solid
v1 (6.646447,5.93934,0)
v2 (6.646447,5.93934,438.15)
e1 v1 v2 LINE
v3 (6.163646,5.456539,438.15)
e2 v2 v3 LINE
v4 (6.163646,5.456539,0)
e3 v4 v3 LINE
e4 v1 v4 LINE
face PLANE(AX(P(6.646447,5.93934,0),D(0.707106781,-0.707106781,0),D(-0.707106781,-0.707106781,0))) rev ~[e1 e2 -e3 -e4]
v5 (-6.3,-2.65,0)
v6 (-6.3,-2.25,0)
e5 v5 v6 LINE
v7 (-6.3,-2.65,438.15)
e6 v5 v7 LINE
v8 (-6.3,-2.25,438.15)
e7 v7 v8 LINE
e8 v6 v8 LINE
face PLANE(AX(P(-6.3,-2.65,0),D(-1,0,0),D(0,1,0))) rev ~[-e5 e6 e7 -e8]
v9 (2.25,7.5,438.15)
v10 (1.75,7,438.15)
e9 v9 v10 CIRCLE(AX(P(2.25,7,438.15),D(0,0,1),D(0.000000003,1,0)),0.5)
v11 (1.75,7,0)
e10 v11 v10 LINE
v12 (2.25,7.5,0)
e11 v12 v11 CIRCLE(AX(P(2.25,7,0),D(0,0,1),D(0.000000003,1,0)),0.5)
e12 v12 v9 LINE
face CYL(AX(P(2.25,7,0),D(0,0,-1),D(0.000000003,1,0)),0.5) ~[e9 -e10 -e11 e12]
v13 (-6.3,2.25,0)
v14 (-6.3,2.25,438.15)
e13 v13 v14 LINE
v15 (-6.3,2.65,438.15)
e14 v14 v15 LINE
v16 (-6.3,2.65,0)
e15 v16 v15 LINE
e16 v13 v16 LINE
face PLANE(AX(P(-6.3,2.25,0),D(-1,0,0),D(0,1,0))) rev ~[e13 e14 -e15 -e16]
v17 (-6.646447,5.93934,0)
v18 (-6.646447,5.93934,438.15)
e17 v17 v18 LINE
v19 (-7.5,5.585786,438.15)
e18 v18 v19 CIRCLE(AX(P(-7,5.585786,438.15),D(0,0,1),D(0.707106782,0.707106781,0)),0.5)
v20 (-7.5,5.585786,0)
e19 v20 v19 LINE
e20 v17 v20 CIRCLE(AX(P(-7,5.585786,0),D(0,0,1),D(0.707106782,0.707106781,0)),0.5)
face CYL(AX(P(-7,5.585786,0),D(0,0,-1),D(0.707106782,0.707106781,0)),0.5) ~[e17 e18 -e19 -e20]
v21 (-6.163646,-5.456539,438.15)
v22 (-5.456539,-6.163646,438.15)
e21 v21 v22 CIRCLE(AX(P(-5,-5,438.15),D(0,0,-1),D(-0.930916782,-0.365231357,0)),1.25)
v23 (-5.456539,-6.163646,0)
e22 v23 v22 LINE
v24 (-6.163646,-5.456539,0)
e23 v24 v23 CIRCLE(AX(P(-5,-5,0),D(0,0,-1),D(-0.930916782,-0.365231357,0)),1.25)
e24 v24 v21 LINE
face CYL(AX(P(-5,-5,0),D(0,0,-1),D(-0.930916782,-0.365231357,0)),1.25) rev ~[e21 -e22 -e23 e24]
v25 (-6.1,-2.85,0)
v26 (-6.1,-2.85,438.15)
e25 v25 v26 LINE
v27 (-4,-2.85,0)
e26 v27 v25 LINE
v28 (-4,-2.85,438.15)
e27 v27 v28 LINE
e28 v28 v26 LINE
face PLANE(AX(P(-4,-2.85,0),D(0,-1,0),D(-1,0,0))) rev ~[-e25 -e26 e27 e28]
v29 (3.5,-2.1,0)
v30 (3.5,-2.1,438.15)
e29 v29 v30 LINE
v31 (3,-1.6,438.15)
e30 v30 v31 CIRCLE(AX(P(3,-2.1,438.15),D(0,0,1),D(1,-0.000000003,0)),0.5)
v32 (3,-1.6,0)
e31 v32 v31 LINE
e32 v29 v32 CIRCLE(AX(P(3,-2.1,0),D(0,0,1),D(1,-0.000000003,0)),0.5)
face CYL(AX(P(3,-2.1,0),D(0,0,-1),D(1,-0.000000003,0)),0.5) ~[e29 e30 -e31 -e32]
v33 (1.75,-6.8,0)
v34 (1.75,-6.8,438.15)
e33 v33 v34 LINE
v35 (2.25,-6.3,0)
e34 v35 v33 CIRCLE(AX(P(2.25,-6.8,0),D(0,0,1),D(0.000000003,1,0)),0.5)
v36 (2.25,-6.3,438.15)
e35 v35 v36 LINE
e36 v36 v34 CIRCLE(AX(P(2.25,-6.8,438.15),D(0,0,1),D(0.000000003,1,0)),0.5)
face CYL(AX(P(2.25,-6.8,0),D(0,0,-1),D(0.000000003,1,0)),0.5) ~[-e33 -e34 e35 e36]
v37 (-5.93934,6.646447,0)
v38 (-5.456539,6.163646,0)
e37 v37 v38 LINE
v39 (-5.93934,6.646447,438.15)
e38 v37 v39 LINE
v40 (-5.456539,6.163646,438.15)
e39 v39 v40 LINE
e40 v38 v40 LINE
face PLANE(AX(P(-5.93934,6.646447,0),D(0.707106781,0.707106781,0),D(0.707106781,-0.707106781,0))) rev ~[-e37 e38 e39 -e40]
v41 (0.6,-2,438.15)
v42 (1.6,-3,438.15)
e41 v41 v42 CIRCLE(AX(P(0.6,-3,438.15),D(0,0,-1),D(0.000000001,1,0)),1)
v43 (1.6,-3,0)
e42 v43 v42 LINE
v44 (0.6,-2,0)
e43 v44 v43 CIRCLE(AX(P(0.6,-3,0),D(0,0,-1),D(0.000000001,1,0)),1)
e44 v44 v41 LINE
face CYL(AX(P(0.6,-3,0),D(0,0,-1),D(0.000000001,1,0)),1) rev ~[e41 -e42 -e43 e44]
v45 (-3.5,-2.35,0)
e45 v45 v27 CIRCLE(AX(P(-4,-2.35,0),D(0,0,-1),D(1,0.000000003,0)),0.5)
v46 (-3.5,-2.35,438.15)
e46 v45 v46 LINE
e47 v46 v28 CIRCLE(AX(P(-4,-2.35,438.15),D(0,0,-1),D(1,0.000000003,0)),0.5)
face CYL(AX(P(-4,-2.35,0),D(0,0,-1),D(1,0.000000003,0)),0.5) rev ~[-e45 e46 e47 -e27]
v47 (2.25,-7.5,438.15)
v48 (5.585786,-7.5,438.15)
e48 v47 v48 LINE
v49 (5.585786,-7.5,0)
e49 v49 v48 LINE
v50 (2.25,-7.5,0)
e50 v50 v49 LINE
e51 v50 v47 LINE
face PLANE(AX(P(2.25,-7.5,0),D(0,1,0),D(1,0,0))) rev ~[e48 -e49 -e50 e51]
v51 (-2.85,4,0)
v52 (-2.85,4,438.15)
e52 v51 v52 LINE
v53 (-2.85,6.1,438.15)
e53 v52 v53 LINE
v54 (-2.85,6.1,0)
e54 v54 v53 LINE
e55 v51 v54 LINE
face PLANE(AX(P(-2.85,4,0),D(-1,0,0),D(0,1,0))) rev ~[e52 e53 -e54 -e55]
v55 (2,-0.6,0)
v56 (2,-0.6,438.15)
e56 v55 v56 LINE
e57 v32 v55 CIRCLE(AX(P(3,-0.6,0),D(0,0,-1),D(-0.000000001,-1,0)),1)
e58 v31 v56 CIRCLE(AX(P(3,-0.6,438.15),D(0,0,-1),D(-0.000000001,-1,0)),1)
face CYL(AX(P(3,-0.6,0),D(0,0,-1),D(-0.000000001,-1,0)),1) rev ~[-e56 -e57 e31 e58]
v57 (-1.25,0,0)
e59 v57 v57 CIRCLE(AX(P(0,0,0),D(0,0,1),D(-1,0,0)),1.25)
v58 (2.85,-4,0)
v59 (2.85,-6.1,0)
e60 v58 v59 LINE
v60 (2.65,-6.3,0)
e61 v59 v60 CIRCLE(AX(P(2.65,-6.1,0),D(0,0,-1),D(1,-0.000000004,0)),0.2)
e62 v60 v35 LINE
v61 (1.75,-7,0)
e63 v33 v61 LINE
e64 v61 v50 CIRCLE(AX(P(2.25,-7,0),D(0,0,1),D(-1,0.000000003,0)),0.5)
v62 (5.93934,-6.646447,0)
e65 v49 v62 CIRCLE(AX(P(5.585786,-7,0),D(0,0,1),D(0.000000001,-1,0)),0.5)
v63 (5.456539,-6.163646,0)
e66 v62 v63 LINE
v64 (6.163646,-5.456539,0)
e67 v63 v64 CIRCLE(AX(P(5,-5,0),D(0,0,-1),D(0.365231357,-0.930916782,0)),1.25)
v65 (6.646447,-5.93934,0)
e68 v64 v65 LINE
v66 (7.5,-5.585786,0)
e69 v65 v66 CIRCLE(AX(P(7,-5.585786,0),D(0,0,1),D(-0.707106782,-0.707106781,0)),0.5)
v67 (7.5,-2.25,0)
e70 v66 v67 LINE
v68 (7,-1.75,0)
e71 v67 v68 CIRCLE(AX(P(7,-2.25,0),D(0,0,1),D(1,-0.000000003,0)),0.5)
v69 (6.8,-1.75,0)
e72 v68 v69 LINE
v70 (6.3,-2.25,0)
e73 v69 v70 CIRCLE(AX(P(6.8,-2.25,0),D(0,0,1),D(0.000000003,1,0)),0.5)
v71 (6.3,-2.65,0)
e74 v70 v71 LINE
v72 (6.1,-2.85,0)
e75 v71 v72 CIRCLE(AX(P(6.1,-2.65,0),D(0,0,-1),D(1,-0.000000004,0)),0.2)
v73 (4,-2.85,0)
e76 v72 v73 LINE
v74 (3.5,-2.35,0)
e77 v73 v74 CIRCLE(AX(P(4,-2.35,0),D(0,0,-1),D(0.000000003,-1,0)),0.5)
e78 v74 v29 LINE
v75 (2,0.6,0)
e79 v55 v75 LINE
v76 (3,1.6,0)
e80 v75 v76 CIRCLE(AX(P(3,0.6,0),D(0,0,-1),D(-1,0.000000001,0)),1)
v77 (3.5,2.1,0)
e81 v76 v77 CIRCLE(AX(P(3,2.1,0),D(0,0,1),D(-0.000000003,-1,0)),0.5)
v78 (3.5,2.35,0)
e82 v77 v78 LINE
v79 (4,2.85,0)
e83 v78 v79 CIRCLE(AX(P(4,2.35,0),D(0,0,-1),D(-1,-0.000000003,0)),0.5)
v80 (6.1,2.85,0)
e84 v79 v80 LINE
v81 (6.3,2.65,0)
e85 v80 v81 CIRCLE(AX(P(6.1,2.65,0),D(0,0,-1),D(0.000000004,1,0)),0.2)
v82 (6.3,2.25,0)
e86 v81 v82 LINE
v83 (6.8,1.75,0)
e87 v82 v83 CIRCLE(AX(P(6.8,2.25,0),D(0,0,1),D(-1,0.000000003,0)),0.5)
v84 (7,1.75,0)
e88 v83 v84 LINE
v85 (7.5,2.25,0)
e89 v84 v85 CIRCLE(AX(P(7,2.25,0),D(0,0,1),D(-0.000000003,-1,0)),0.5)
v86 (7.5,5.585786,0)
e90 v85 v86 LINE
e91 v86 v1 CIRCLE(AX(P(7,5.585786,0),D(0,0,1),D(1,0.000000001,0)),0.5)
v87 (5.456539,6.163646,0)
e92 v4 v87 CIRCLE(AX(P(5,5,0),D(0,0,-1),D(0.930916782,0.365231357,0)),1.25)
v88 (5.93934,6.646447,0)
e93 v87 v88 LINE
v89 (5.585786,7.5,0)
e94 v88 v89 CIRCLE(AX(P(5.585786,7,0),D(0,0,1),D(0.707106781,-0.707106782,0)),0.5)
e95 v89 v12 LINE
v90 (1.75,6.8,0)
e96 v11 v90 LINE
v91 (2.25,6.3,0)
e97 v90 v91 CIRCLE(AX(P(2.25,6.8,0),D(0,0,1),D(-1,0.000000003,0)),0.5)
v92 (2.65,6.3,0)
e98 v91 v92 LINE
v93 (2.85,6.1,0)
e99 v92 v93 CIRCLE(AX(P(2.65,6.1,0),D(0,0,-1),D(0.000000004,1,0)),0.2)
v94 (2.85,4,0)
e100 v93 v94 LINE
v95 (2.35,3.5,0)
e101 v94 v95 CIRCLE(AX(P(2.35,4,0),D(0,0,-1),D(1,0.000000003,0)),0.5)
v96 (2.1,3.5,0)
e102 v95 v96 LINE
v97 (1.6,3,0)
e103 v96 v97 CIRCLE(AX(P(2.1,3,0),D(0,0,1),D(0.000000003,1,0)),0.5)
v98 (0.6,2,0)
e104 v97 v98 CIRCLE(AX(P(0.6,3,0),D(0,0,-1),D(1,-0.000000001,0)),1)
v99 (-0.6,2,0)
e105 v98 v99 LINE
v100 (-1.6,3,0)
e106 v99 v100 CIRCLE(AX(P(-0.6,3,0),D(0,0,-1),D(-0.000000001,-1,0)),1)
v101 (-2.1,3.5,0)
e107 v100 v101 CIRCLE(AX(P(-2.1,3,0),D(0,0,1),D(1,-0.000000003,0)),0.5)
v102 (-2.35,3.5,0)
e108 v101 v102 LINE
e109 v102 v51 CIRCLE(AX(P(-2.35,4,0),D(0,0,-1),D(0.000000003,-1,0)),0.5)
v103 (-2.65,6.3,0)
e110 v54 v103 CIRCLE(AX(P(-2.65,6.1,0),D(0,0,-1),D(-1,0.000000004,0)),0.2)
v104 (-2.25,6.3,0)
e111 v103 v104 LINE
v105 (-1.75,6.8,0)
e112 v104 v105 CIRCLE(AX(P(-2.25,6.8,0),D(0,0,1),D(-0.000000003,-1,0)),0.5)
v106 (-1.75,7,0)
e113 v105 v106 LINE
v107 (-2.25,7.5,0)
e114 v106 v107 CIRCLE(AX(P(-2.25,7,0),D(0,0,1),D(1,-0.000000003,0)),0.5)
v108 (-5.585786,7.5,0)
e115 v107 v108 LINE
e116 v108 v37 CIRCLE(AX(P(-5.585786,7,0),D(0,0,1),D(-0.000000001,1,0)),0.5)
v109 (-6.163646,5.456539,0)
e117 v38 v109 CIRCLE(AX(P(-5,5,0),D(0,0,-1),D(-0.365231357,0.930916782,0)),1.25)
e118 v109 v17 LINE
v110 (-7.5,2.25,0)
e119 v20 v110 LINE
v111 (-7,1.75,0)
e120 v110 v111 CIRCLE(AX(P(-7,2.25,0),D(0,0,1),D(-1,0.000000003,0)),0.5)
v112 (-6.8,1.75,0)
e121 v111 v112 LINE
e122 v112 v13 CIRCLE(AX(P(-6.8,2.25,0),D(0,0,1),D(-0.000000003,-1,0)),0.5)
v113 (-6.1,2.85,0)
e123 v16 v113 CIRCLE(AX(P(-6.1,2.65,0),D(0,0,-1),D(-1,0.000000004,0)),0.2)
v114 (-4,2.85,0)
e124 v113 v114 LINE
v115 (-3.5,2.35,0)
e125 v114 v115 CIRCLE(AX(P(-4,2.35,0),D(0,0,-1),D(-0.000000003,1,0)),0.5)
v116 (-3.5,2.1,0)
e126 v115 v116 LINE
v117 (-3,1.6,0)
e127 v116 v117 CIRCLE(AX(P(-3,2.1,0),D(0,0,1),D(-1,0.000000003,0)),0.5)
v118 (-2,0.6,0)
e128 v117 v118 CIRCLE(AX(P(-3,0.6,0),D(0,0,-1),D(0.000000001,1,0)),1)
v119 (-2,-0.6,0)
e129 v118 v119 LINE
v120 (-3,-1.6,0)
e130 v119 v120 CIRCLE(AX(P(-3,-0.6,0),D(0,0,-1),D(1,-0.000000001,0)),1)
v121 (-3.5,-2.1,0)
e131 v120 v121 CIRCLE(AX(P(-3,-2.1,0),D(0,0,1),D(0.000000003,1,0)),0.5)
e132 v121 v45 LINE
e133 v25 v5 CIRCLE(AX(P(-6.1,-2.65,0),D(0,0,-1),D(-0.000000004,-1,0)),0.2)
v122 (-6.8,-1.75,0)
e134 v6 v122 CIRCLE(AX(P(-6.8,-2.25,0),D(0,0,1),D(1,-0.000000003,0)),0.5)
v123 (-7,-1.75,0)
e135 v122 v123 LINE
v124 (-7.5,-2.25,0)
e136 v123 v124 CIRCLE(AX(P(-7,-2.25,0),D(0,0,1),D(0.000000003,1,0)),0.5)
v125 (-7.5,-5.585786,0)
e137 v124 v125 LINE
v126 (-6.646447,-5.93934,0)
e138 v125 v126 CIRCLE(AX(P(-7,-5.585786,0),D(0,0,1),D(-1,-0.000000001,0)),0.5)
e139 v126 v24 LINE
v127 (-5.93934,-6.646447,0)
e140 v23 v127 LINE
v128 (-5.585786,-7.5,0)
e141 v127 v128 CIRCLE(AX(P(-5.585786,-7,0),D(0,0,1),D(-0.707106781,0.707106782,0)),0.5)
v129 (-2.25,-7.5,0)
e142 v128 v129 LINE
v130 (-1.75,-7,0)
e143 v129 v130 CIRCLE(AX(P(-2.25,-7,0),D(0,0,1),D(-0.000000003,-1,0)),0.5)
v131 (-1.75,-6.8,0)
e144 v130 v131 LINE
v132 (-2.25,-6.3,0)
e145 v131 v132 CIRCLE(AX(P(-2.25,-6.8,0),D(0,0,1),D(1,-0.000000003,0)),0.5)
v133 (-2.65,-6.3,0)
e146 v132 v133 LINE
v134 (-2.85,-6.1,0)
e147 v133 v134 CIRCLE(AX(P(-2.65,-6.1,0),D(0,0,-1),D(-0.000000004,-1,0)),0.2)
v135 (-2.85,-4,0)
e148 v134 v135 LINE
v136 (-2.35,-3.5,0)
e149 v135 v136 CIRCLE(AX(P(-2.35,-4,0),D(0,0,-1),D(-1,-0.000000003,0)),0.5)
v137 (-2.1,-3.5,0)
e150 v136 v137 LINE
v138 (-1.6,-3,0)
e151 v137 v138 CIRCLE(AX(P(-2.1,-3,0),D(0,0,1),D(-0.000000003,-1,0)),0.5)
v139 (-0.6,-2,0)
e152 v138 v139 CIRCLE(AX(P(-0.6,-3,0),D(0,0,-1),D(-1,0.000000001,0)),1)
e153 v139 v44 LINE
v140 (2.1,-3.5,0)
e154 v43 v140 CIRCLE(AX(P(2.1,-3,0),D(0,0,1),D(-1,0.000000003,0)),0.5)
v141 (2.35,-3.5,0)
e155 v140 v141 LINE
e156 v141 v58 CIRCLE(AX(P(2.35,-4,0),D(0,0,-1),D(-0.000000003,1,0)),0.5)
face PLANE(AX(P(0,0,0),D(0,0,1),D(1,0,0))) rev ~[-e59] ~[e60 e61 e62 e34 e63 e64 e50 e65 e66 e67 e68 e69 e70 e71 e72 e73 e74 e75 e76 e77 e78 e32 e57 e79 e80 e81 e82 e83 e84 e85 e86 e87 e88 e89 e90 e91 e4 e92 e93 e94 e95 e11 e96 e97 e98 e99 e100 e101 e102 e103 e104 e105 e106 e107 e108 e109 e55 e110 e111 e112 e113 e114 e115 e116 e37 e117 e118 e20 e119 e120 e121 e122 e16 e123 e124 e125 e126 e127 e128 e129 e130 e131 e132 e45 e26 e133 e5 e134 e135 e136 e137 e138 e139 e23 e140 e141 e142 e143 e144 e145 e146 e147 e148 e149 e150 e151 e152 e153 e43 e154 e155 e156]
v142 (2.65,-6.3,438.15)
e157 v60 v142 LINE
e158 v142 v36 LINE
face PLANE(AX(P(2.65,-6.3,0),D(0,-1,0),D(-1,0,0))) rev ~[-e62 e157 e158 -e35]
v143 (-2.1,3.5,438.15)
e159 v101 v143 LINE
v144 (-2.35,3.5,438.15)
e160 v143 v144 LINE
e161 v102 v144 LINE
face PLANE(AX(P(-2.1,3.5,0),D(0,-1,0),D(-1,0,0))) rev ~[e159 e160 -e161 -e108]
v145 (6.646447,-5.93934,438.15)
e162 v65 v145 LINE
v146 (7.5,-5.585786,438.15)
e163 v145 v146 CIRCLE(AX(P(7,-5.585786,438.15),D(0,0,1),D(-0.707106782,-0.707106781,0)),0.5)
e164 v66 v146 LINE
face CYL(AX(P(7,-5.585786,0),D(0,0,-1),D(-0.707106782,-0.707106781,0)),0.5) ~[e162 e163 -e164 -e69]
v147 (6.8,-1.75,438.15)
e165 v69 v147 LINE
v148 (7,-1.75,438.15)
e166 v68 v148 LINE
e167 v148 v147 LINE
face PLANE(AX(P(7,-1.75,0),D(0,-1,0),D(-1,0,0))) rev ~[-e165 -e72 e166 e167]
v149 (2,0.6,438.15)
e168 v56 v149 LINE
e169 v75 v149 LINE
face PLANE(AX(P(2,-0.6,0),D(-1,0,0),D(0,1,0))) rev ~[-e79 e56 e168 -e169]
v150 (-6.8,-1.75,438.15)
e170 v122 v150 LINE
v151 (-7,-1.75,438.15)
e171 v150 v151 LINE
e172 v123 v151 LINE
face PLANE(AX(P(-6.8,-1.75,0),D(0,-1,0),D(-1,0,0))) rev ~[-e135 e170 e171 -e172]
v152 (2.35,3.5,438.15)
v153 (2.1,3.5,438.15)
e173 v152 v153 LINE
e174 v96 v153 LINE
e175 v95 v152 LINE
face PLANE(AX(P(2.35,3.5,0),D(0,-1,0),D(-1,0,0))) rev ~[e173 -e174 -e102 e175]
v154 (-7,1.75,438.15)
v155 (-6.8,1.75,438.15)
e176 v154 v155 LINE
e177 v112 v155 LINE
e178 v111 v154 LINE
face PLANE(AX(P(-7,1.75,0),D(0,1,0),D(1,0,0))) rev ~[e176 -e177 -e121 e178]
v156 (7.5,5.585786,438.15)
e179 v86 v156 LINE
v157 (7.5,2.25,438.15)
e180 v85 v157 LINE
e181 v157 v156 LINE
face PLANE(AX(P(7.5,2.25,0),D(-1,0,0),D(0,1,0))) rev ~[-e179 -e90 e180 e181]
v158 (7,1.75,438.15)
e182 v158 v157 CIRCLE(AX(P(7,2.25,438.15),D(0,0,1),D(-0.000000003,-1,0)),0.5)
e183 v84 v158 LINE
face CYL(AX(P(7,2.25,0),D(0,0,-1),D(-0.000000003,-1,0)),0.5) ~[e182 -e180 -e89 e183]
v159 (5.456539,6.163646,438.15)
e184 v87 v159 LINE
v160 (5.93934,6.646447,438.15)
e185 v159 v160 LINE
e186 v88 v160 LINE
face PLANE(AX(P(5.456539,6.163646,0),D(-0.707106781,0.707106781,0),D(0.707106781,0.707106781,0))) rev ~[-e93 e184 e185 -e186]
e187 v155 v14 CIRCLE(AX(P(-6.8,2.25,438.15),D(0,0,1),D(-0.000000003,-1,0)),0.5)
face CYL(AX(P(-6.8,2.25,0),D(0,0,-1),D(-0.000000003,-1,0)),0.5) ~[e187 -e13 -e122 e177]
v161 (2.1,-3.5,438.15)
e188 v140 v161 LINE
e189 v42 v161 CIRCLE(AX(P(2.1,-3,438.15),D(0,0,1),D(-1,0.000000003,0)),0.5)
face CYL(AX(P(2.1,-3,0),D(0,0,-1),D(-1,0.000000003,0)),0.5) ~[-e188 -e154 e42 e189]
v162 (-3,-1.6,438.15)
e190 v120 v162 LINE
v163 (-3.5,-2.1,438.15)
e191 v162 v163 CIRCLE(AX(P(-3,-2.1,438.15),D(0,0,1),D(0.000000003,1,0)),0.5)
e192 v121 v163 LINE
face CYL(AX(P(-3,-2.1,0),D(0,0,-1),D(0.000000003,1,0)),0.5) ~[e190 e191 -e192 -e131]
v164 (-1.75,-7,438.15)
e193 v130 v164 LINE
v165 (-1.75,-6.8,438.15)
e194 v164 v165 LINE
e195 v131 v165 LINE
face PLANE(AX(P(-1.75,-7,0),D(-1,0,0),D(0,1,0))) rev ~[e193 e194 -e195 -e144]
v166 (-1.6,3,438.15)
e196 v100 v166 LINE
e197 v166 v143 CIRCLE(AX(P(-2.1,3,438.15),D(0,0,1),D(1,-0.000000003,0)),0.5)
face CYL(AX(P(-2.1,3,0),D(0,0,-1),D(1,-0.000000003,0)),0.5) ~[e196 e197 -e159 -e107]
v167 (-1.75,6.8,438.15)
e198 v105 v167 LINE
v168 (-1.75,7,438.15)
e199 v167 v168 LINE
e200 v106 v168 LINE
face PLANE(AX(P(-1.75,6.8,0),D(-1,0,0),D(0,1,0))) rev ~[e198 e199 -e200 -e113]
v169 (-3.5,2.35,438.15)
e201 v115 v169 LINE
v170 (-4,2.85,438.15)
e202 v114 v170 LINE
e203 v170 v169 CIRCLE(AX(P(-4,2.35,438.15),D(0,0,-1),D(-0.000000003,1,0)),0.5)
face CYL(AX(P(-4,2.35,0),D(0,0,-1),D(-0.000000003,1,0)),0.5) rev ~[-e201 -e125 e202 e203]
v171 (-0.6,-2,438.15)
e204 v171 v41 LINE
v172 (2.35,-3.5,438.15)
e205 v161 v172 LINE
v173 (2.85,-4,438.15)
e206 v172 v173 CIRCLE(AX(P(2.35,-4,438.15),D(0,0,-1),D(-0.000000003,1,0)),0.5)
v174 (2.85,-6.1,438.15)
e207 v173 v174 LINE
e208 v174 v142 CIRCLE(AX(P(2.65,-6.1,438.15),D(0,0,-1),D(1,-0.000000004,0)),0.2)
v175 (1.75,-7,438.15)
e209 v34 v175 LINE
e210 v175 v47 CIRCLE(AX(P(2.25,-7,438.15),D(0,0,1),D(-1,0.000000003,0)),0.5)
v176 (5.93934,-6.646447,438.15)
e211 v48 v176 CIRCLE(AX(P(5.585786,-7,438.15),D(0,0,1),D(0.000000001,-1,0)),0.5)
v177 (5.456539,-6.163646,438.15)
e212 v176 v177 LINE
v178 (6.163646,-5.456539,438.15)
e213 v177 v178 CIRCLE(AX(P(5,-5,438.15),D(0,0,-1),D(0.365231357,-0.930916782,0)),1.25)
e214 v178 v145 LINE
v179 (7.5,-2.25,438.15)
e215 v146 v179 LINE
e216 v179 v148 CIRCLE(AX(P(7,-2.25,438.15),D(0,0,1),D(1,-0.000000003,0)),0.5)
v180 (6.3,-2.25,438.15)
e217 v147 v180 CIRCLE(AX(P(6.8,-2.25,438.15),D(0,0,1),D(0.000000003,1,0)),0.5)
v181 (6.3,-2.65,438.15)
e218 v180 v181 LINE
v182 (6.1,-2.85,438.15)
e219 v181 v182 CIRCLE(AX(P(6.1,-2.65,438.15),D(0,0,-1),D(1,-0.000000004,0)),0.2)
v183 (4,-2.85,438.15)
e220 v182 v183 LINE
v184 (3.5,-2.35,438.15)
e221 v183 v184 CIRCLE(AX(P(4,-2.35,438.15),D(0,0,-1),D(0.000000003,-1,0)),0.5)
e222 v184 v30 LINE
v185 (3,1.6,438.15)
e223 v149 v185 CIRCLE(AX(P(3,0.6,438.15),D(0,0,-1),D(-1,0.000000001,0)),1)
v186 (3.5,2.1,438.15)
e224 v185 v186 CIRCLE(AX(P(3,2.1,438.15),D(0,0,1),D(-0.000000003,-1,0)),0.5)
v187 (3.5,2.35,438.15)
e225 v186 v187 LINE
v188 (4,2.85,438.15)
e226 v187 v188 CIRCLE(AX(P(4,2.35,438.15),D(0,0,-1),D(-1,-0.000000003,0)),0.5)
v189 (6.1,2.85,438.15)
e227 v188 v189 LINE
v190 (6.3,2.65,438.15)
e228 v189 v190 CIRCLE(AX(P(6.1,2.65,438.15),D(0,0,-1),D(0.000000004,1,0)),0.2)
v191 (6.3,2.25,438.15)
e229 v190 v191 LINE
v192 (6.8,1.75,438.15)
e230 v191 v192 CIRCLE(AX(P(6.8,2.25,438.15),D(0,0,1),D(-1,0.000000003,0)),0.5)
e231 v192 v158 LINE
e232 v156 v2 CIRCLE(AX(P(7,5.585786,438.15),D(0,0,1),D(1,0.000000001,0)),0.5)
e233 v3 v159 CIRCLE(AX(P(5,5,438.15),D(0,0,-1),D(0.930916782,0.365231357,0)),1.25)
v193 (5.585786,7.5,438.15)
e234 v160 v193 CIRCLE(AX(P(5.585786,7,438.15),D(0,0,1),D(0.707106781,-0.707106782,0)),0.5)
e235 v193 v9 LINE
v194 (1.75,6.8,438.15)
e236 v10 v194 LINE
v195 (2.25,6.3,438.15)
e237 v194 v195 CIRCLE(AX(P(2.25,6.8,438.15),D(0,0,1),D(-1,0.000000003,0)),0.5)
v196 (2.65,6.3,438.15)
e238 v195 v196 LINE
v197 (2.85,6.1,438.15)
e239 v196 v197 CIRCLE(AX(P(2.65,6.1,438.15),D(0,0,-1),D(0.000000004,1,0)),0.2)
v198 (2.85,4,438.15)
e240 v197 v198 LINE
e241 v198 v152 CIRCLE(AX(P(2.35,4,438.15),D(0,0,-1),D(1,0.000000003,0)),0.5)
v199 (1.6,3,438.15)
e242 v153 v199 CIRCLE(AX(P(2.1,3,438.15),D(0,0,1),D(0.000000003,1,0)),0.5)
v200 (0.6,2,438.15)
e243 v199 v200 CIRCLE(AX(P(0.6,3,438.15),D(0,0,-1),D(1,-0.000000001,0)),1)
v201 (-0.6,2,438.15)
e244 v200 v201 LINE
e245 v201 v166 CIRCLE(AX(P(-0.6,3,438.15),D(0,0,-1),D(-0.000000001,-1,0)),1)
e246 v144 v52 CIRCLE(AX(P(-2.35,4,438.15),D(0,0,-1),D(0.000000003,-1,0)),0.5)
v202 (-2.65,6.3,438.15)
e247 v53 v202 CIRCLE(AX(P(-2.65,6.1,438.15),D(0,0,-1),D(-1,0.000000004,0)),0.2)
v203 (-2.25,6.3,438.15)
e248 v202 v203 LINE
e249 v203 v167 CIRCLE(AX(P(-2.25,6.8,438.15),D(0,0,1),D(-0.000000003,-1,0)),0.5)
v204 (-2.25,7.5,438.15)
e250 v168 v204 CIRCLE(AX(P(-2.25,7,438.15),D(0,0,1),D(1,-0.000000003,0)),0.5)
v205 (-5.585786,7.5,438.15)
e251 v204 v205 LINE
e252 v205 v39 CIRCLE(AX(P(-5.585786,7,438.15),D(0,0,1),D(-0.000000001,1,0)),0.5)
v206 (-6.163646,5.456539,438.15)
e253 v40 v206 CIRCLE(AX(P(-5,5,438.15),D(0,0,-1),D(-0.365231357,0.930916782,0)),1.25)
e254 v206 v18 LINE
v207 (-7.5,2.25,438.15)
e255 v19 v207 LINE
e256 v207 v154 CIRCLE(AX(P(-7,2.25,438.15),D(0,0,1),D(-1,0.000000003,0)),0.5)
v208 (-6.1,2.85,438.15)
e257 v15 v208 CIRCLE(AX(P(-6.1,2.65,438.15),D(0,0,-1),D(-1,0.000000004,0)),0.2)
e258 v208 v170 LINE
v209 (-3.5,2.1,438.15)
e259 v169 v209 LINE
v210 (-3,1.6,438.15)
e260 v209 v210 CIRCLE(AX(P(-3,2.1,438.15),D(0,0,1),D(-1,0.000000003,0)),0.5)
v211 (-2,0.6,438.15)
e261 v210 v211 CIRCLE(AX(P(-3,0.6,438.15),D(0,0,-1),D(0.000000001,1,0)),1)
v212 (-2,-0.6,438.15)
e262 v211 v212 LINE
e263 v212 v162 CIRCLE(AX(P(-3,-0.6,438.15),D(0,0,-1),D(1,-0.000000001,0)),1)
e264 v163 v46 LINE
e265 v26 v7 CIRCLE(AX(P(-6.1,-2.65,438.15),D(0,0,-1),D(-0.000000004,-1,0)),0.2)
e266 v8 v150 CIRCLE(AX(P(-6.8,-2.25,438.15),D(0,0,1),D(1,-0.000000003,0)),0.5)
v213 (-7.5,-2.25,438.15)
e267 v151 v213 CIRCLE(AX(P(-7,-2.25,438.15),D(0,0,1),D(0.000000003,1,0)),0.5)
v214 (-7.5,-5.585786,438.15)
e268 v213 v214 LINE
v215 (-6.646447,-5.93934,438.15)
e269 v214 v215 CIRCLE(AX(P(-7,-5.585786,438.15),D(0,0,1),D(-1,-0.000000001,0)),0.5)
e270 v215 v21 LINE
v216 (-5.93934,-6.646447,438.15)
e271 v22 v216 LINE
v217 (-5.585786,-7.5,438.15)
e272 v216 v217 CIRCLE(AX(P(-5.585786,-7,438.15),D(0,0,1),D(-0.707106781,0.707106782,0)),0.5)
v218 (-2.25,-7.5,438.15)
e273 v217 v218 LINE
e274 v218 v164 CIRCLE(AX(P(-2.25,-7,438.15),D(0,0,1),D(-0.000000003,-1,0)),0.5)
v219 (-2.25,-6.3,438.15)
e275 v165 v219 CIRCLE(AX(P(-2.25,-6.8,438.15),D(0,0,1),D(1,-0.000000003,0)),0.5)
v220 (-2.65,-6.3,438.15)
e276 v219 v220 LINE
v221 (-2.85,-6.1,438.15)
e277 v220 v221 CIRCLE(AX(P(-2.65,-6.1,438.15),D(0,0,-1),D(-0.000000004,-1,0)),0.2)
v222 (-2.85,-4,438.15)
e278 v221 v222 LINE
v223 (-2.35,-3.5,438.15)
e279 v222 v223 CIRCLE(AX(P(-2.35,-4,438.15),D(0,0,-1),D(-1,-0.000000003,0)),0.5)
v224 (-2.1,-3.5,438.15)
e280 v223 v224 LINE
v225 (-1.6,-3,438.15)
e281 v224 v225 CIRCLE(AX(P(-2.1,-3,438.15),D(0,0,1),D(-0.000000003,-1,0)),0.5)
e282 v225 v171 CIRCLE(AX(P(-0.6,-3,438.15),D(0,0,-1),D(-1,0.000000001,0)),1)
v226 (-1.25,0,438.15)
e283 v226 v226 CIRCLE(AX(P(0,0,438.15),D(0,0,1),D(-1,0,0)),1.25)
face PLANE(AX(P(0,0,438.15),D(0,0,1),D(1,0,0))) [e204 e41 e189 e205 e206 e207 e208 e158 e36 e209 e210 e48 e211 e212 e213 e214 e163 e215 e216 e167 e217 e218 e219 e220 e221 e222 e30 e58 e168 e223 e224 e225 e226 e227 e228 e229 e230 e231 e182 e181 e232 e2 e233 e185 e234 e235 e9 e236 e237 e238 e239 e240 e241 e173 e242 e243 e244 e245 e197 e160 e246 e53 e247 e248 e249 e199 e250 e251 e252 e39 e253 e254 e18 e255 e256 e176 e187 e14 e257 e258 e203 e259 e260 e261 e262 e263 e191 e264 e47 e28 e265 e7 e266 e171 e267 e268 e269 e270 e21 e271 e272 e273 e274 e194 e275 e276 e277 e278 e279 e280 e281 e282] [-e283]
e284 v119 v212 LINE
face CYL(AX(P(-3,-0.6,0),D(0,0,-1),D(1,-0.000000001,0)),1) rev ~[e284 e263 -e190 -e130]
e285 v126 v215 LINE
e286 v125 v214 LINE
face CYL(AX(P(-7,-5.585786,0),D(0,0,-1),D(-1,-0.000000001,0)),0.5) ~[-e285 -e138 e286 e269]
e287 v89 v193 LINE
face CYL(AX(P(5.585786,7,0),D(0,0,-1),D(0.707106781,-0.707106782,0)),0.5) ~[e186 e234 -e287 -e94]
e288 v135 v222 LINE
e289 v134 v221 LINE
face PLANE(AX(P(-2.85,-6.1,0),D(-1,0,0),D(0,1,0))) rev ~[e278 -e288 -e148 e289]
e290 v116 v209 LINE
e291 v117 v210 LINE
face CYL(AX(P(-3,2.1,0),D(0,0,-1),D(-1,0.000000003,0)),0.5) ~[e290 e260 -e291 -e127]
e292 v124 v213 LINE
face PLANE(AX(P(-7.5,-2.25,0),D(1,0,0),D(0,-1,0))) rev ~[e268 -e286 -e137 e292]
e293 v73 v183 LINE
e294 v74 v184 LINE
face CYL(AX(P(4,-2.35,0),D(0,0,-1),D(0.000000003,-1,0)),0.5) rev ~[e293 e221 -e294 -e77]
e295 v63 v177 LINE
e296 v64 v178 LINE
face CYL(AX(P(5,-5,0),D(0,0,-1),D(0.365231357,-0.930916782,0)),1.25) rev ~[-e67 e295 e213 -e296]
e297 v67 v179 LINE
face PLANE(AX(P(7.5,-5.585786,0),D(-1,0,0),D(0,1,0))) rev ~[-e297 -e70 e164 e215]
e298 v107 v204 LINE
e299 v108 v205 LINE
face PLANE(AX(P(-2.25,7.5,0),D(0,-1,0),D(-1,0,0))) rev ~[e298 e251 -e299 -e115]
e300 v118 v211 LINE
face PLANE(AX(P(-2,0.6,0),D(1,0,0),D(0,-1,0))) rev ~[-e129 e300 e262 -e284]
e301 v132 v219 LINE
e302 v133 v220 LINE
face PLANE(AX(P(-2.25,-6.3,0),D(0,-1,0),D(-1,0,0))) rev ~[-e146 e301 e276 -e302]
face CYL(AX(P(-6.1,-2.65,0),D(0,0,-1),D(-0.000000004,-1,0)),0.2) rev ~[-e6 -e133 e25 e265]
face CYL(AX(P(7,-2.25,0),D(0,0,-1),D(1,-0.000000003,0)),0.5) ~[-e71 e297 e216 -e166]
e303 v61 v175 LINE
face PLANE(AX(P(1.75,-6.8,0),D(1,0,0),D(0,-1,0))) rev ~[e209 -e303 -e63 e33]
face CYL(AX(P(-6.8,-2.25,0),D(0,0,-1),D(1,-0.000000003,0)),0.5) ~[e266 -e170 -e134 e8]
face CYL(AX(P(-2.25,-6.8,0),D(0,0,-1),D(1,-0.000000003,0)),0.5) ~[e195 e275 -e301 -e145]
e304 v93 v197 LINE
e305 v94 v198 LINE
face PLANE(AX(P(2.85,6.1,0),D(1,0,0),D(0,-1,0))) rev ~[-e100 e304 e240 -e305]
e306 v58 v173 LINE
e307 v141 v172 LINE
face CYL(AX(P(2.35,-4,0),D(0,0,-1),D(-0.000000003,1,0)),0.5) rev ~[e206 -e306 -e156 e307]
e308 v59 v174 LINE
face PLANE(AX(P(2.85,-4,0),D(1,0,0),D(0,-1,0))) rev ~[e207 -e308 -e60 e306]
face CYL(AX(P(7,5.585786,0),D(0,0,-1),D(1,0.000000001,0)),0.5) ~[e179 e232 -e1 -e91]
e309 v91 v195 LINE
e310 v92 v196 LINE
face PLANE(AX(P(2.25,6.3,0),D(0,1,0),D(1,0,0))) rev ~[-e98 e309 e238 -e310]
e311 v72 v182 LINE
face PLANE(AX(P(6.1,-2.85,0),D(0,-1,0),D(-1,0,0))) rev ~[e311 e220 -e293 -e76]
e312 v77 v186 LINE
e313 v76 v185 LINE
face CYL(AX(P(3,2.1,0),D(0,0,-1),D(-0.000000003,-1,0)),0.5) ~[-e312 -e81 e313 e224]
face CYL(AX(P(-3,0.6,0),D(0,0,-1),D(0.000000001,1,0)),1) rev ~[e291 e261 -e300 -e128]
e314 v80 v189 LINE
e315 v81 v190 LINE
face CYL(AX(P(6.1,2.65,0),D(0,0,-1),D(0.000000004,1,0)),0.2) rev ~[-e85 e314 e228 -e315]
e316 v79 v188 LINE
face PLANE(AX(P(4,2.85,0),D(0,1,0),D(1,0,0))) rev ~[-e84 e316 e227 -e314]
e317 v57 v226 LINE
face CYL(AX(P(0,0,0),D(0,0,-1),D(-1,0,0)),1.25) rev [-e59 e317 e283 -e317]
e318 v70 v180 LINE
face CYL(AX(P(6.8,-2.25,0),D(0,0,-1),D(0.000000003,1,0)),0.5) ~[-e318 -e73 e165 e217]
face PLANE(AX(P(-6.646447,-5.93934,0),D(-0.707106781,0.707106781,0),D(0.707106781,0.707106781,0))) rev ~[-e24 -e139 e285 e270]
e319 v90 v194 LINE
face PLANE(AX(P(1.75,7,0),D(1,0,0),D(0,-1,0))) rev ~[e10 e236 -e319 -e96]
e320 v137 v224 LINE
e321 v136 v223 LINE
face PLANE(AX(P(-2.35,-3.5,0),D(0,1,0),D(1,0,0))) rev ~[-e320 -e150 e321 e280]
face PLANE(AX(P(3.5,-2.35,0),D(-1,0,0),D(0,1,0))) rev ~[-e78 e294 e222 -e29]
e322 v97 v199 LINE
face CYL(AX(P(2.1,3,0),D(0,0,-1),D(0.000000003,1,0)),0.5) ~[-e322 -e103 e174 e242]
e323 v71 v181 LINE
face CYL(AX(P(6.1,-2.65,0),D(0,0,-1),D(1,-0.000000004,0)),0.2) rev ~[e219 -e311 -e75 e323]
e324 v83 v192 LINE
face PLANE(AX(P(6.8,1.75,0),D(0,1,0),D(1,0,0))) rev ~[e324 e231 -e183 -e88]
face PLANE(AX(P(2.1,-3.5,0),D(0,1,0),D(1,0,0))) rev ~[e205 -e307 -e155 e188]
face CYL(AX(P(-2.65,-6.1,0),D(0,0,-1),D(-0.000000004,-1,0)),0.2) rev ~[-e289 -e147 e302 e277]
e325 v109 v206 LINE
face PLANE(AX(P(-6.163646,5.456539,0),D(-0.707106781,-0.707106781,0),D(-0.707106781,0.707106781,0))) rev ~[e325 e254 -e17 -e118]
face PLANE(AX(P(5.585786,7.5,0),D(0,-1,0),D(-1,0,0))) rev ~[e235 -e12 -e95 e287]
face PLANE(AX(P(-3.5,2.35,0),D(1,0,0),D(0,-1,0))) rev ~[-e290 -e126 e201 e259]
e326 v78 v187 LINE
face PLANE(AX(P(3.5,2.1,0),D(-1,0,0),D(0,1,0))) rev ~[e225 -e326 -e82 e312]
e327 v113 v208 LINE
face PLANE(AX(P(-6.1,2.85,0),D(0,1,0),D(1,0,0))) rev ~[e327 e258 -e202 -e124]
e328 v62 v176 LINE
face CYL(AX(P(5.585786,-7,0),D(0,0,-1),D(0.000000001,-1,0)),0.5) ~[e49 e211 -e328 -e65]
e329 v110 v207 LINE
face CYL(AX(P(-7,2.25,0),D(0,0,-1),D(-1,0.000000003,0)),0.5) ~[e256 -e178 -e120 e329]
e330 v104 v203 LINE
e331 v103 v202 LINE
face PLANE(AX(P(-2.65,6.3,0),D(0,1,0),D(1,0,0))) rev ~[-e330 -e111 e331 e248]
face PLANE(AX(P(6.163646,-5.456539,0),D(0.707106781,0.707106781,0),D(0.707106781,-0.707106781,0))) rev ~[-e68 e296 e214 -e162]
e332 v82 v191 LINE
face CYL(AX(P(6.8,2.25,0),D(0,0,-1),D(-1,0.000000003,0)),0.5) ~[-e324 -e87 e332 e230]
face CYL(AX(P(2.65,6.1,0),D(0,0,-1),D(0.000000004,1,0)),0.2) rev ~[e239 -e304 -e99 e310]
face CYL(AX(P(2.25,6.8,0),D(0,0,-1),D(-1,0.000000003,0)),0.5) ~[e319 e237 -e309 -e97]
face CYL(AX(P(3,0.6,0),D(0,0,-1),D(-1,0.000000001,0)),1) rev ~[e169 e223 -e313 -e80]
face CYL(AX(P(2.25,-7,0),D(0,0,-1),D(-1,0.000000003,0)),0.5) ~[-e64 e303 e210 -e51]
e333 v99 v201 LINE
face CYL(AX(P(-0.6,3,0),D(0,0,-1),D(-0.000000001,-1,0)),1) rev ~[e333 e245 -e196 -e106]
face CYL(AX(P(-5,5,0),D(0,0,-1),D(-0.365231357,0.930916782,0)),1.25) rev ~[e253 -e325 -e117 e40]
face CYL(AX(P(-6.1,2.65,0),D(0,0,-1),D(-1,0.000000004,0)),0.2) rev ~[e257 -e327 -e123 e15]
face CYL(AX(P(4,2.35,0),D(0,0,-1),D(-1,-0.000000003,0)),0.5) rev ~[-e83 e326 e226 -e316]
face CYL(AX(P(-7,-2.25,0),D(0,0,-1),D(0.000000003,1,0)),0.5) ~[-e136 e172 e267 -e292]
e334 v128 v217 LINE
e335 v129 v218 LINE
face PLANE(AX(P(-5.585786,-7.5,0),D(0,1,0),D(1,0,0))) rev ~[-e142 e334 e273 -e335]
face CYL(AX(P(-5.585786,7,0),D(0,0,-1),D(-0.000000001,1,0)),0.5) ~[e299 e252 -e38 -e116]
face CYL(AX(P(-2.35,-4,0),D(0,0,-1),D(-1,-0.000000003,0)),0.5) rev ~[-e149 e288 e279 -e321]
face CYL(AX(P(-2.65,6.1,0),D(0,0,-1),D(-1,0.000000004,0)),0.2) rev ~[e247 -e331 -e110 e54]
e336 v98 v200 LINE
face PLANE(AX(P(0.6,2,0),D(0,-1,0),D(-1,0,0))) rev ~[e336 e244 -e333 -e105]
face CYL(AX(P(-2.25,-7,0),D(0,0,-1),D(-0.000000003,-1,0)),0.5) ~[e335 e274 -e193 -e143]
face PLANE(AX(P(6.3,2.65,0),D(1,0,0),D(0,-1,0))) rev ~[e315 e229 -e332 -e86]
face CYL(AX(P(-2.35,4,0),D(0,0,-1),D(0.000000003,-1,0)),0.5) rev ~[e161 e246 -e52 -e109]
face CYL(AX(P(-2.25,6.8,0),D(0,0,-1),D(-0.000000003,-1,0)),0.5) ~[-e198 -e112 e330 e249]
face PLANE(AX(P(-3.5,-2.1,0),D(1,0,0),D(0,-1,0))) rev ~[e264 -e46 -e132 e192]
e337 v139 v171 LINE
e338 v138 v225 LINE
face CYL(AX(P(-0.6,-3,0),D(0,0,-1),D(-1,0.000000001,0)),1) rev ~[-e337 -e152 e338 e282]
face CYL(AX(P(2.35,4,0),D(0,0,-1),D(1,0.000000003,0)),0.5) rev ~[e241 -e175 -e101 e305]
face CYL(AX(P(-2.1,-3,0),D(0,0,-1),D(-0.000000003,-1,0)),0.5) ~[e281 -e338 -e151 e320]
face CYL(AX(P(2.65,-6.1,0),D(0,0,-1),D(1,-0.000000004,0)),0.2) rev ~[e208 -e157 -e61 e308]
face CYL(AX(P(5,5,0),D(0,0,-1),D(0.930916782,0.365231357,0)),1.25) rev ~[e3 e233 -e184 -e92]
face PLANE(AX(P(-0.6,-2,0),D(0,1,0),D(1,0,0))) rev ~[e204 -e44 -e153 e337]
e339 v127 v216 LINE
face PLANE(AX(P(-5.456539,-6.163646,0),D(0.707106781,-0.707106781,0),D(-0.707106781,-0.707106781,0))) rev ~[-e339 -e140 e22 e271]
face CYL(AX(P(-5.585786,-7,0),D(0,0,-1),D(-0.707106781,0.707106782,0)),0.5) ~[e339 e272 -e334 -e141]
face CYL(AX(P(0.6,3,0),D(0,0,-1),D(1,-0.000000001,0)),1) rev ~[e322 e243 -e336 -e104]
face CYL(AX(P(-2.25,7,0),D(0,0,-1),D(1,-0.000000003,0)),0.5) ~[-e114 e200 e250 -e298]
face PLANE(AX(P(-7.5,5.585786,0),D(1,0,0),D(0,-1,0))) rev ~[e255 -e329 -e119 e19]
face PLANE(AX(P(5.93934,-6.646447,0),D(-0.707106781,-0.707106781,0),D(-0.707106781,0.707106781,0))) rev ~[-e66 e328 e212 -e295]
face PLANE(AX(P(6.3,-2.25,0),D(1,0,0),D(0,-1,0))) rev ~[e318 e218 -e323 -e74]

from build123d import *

# Parameters (mm, degrees)
SKETCH1_R           = 1.25
BOSS_EXTRUDE1_DEPTH = 438.15


with BuildPart() as part:
    # Sketch1 → Boss-Extrude1 (new body)
    with BuildSketch(Plane.XY):
        with BuildLine():
            Line((6.646446609, 5.939339828), (6.163645978, 5.456539197))
            ThreePointArc((6.163645978, 5.456539197), (4.116116524, 4.116116524), (5.456539197, 6.163645978))
            Line((5.456539197, 6.163645978), (5.939339828, 6.646446609))
            ThreePointArc((5.939339828, 6.646446609), (6.047726204, 7.191341716), (5.585786438, 7.5))
            Line((5.585786438, 7.5), (2.25, 7.5))
            ThreePointArc((2.25, 7.5), (1.896446609, 7.353553391), (1.75, 7))
            Line((1.75, 7), (1.75, 6.8))
            ThreePointArc((1.75, 6.8), (1.896446609, 6.446446609), (2.25, 6.3))
            Line((2.25, 6.3), (2.65, 6.3))
            ThreePointArc((2.65, 6.3), (2.791421356, 6.241421356), (2.85, 6.1))
            Line((2.85, 6.1), (2.85, 4))
            ThreePointArc((2.85, 4), (2.703553391, 3.646446609), (2.35, 3.5))
            Line((2.35, 3.5), (2.1, 3.5))
            ThreePointArc((2.1, 3.5), (1.746446609, 3.353553391), (1.6, 3))
            ThreePointArc((1.6, 3), (1.307106781, 2.292893219), (0.6, 2))
            Line((0.6, 2), (-0.6, 2))
            ThreePointArc((-0.6, 2), (-1.307106781, 2.292893219), (-1.6, 3))
            ThreePointArc((-1.6, 3), (-1.746446609, 3.353553391), (-2.1, 3.5))
            Line((-2.1, 3.5), (-2.35, 3.5))
            ThreePointArc((-2.35, 3.5), (-2.703553391, 3.646446609), (-2.85, 4))
            Line((-2.85, 4), (-2.85, 6.1))
            ThreePointArc((-2.85, 6.1), (-2.791421356, 6.241421356), (-2.65, 6.3))
            Line((-2.65, 6.3), (-2.25, 6.3))
            ThreePointArc((-2.25, 6.3), (-1.896446609, 6.446446609), (-1.75, 6.8))
            Line((-1.75, 6.8), (-1.75, 7))
            ThreePointArc((-1.75, 7), (-1.896446609, 7.353553391), (-2.25, 7.5))
            Line((-2.25, 7.5), (-5.585786438, 7.5))
            ThreePointArc((-5.585786438, 7.5), (-6.047726204, 7.191341716), (-5.939339828, 6.646446609))
            Line((-5.939339828, 6.646446609), (-5.456539197, 6.163645978))
            ThreePointArc((-5.456539197, 6.163645978), (-4.116116524, 4.116116524), (-6.163645978, 5.456539197))
            Line((-6.163645978, 5.456539197), (-6.646446609, 5.939339828))
            ThreePointArc((-6.646446609, 5.939339828), (-7.191341716, 6.047726204), (-7.5, 5.585786438))
            Line((-7.5, 5.585786438), (-7.5, 2.25))
            ThreePointArc((-7.5, 2.25), (-7.353553391, 1.896446609), (-7, 1.75))
            Line((-7, 1.75), (-6.8, 1.75))
            ThreePointArc((-6.8, 1.75), (-6.446446609, 1.896446609), (-6.3, 2.25))
            Line((-6.3, 2.25), (-6.3, 2.65))
            ThreePointArc((-6.3, 2.65), (-6.241421356, 2.791421356), (-6.1, 2.85))
            Line((-6.1, 2.85), (-4, 2.85))
            ThreePointArc((-4, 2.85), (-3.646446609, 2.703553391), (-3.5, 2.35))
            Line((-3.5, 2.35), (-3.5, 2.1))
            ThreePointArc((-3.5, 2.1), (-3.353553391, 1.746446609), (-3, 1.6))
            ThreePointArc((-3, 1.6), (-2.292893219, 1.307106781), (-2, 0.6))
            Line((-2, 0.6), (-2, -0.6))
            ThreePointArc((-2, -0.6), (-2.292893219, -1.307106781), (-3, -1.6))
            ThreePointArc((-3, -1.6), (-3.353553391, -1.746446609), (-3.5, -2.1))
            Line((-3.5, -2.1), (-3.5, -2.35))
            ThreePointArc((-3.5, -2.35), (-3.646446609, -2.703553391), (-4, -2.85))
            Line((-4, -2.85), (-6.1, -2.85))
            ThreePointArc((-6.1, -2.85), (-6.241421356, -2.791421356), (-6.3, -2.65))
            Line((-6.3, -2.65), (-6.3, -2.25))
            ThreePointArc((-6.3, -2.25), (-6.446446609, -1.896446609), (-6.8, -1.75))
            Line((-6.8, -1.75), (-7, -1.75))
            ThreePointArc((-7, -1.75), (-7.353553391, -1.896446609), (-7.5, -2.25))
            Line((-7.5, -2.25), (-7.5, -5.585786438))
            ThreePointArc((-7.5, -5.585786438), (-7.191341716, -6.047726204), (-6.646446609, -5.939339828))
            Line((-6.646446609, -5.939339828), (-6.163645978, -5.456539197))
            ThreePointArc((-6.163645978, -5.456539197), (-4.116116524, -4.116116524), (-5.456539197, -6.163645978))
            Line((-5.456539197, -6.163645978), (-5.939339828, -6.646446609))
            ThreePointArc((-5.939339828, -6.646446609), (-6.047726204, -7.191341716), (-5.585786438, -7.5))
            Line((-5.585786438, -7.5), (-2.25, -7.5))
            ThreePointArc((-2.25, -7.5), (-1.896446609, -7.353553391), (-1.75, -7))
            Line((-1.75, -7), (-1.75, -6.8))
            ThreePointArc((-1.75, -6.8), (-1.896446609, -6.446446609), (-2.25, -6.3))
            Line((-2.25, -6.3), (-2.65, -6.3))
            ThreePointArc((-2.65, -6.3), (-2.791421356, -6.241421356), (-2.85, -6.1))
            Line((-2.85, -6.1), (-2.85, -4))
            ThreePointArc((-2.85, -4), (-2.703553391, -3.646446609), (-2.35, -3.5))
            Line((-2.35, -3.5), (-2.1, -3.5))
            ThreePointArc((-2.1, -3.5), (-1.746446609, -3.353553391), (-1.6, -3))
            ThreePointArc((-1.6, -3), (-1.307106781, -2.292893219), (-0.6, -2))
            Line((-0.6, -2), (0.6, -2))
            ThreePointArc((0.6, -2), (1.307106781, -2.292893219), (1.6, -3))
            ThreePointArc((1.6, -3), (1.746446609, -3.353553391), (2.1, -3.5))
            Line((2.1, -3.5), (2.35, -3.5))
            ThreePointArc((2.35, -3.5), (2.703553391, -3.646446609), (2.85, -4))
            Line((2.85, -4), (2.85, -6.1))
            ThreePointArc((2.85, -6.1), (2.791421356, -6.241421356), (2.65, -6.3))
            Line((2.65, -6.3), (2.25, -6.3))
            ThreePointArc((2.25, -6.3), (1.896446609, -6.446446609), (1.75, -6.8))
            Line((1.75, -6.8), (1.75, -7))
            ThreePointArc((1.75, -7), (1.896446609, -7.353553391), (2.25, -7.5))
            Line((2.25, -7.5), (5.585786438, -7.5))
            ThreePointArc((5.585786438, -7.5), (6.047726204, -7.191341716), (5.939339828, -6.646446609))
            Line((5.939339828, -6.646446609), (5.456539197, -6.163645978))
            ThreePointArc((5.456539197, -6.163645978), (4.116116524, -4.116116524), (6.163645978, -5.456539197))
            Line((6.163645978, -5.456539197), (6.646446609, -5.939339828))
            ThreePointArc((6.646446609, -5.939339828), (7.191341716, -6.047726204), (7.5, -5.585786438))
            Line((7.5, -5.585786438), (7.5, -2.25))
            ThreePointArc((7.5, -2.25), (7.353553391, -1.896446609), (7, -1.75))
            Line((7, -1.75), (6.8, -1.75))
            ThreePointArc((6.8, -1.75), (6.446446609, -1.896446609), (6.3, -2.25))
            Line((6.3, -2.25), (6.3, -2.65))
            ThreePointArc((6.3, -2.65), (6.241421356, -2.791421356), (6.1, -2.85))
            Line((6.1, -2.85), (4, -2.85))
            ThreePointArc((4, -2.85), (3.646446609, -2.703553391), (3.5, -2.35))
            Line((3.5, -2.35), (3.5, -2.1))
            ThreePointArc((3.5, -2.1), (3.353553391, -1.746446609), (3, -1.6))
            ThreePointArc((3, -1.6), (2.292893219, -1.307106781), (2, -0.6))
            Line((2, -0.6), (2, 0.6))
            ThreePointArc((2, 0.6), (2.292893219, 1.307106781), (3, 1.6))
            ThreePointArc((3, 1.6), (3.353553391, 1.746446609), (3.5, 2.1))
            Line((3.5, 2.1), (3.5, 2.35))
            ThreePointArc((3.5, 2.35), (3.646446609, 2.703553391), (4, 2.85))
            Line((4, 2.85), (6.1, 2.85))
            ThreePointArc((6.1, 2.85), (6.241421356, 2.791421356), (6.3, 2.65))
            Line((6.3, 2.65), (6.3, 2.25))
            ThreePointArc((6.3, 2.25), (6.446446609, 1.896446609), (6.8, 1.75))
            Line((6.8, 1.75), (7, 1.75))
            ThreePointArc((7, 1.75), (7.353553391, 1.896446609), (7.5, 2.25))
            Line((7.5, 2.25), (7.5, 5.585786438))
            ThreePointArc((7.5, 5.585786438), (7.191341716, 6.047726204), (6.646446609, 5.939339828))
        make_face()
        with Locations(Location((0, 0, 0), (0, 0, 180))):
            Circle(SKETCH1_R, mode=Mode.SUBTRACT)
    extrude(amount=BOSS_EXTRUDE1_DEPTH)


solid = part.part
